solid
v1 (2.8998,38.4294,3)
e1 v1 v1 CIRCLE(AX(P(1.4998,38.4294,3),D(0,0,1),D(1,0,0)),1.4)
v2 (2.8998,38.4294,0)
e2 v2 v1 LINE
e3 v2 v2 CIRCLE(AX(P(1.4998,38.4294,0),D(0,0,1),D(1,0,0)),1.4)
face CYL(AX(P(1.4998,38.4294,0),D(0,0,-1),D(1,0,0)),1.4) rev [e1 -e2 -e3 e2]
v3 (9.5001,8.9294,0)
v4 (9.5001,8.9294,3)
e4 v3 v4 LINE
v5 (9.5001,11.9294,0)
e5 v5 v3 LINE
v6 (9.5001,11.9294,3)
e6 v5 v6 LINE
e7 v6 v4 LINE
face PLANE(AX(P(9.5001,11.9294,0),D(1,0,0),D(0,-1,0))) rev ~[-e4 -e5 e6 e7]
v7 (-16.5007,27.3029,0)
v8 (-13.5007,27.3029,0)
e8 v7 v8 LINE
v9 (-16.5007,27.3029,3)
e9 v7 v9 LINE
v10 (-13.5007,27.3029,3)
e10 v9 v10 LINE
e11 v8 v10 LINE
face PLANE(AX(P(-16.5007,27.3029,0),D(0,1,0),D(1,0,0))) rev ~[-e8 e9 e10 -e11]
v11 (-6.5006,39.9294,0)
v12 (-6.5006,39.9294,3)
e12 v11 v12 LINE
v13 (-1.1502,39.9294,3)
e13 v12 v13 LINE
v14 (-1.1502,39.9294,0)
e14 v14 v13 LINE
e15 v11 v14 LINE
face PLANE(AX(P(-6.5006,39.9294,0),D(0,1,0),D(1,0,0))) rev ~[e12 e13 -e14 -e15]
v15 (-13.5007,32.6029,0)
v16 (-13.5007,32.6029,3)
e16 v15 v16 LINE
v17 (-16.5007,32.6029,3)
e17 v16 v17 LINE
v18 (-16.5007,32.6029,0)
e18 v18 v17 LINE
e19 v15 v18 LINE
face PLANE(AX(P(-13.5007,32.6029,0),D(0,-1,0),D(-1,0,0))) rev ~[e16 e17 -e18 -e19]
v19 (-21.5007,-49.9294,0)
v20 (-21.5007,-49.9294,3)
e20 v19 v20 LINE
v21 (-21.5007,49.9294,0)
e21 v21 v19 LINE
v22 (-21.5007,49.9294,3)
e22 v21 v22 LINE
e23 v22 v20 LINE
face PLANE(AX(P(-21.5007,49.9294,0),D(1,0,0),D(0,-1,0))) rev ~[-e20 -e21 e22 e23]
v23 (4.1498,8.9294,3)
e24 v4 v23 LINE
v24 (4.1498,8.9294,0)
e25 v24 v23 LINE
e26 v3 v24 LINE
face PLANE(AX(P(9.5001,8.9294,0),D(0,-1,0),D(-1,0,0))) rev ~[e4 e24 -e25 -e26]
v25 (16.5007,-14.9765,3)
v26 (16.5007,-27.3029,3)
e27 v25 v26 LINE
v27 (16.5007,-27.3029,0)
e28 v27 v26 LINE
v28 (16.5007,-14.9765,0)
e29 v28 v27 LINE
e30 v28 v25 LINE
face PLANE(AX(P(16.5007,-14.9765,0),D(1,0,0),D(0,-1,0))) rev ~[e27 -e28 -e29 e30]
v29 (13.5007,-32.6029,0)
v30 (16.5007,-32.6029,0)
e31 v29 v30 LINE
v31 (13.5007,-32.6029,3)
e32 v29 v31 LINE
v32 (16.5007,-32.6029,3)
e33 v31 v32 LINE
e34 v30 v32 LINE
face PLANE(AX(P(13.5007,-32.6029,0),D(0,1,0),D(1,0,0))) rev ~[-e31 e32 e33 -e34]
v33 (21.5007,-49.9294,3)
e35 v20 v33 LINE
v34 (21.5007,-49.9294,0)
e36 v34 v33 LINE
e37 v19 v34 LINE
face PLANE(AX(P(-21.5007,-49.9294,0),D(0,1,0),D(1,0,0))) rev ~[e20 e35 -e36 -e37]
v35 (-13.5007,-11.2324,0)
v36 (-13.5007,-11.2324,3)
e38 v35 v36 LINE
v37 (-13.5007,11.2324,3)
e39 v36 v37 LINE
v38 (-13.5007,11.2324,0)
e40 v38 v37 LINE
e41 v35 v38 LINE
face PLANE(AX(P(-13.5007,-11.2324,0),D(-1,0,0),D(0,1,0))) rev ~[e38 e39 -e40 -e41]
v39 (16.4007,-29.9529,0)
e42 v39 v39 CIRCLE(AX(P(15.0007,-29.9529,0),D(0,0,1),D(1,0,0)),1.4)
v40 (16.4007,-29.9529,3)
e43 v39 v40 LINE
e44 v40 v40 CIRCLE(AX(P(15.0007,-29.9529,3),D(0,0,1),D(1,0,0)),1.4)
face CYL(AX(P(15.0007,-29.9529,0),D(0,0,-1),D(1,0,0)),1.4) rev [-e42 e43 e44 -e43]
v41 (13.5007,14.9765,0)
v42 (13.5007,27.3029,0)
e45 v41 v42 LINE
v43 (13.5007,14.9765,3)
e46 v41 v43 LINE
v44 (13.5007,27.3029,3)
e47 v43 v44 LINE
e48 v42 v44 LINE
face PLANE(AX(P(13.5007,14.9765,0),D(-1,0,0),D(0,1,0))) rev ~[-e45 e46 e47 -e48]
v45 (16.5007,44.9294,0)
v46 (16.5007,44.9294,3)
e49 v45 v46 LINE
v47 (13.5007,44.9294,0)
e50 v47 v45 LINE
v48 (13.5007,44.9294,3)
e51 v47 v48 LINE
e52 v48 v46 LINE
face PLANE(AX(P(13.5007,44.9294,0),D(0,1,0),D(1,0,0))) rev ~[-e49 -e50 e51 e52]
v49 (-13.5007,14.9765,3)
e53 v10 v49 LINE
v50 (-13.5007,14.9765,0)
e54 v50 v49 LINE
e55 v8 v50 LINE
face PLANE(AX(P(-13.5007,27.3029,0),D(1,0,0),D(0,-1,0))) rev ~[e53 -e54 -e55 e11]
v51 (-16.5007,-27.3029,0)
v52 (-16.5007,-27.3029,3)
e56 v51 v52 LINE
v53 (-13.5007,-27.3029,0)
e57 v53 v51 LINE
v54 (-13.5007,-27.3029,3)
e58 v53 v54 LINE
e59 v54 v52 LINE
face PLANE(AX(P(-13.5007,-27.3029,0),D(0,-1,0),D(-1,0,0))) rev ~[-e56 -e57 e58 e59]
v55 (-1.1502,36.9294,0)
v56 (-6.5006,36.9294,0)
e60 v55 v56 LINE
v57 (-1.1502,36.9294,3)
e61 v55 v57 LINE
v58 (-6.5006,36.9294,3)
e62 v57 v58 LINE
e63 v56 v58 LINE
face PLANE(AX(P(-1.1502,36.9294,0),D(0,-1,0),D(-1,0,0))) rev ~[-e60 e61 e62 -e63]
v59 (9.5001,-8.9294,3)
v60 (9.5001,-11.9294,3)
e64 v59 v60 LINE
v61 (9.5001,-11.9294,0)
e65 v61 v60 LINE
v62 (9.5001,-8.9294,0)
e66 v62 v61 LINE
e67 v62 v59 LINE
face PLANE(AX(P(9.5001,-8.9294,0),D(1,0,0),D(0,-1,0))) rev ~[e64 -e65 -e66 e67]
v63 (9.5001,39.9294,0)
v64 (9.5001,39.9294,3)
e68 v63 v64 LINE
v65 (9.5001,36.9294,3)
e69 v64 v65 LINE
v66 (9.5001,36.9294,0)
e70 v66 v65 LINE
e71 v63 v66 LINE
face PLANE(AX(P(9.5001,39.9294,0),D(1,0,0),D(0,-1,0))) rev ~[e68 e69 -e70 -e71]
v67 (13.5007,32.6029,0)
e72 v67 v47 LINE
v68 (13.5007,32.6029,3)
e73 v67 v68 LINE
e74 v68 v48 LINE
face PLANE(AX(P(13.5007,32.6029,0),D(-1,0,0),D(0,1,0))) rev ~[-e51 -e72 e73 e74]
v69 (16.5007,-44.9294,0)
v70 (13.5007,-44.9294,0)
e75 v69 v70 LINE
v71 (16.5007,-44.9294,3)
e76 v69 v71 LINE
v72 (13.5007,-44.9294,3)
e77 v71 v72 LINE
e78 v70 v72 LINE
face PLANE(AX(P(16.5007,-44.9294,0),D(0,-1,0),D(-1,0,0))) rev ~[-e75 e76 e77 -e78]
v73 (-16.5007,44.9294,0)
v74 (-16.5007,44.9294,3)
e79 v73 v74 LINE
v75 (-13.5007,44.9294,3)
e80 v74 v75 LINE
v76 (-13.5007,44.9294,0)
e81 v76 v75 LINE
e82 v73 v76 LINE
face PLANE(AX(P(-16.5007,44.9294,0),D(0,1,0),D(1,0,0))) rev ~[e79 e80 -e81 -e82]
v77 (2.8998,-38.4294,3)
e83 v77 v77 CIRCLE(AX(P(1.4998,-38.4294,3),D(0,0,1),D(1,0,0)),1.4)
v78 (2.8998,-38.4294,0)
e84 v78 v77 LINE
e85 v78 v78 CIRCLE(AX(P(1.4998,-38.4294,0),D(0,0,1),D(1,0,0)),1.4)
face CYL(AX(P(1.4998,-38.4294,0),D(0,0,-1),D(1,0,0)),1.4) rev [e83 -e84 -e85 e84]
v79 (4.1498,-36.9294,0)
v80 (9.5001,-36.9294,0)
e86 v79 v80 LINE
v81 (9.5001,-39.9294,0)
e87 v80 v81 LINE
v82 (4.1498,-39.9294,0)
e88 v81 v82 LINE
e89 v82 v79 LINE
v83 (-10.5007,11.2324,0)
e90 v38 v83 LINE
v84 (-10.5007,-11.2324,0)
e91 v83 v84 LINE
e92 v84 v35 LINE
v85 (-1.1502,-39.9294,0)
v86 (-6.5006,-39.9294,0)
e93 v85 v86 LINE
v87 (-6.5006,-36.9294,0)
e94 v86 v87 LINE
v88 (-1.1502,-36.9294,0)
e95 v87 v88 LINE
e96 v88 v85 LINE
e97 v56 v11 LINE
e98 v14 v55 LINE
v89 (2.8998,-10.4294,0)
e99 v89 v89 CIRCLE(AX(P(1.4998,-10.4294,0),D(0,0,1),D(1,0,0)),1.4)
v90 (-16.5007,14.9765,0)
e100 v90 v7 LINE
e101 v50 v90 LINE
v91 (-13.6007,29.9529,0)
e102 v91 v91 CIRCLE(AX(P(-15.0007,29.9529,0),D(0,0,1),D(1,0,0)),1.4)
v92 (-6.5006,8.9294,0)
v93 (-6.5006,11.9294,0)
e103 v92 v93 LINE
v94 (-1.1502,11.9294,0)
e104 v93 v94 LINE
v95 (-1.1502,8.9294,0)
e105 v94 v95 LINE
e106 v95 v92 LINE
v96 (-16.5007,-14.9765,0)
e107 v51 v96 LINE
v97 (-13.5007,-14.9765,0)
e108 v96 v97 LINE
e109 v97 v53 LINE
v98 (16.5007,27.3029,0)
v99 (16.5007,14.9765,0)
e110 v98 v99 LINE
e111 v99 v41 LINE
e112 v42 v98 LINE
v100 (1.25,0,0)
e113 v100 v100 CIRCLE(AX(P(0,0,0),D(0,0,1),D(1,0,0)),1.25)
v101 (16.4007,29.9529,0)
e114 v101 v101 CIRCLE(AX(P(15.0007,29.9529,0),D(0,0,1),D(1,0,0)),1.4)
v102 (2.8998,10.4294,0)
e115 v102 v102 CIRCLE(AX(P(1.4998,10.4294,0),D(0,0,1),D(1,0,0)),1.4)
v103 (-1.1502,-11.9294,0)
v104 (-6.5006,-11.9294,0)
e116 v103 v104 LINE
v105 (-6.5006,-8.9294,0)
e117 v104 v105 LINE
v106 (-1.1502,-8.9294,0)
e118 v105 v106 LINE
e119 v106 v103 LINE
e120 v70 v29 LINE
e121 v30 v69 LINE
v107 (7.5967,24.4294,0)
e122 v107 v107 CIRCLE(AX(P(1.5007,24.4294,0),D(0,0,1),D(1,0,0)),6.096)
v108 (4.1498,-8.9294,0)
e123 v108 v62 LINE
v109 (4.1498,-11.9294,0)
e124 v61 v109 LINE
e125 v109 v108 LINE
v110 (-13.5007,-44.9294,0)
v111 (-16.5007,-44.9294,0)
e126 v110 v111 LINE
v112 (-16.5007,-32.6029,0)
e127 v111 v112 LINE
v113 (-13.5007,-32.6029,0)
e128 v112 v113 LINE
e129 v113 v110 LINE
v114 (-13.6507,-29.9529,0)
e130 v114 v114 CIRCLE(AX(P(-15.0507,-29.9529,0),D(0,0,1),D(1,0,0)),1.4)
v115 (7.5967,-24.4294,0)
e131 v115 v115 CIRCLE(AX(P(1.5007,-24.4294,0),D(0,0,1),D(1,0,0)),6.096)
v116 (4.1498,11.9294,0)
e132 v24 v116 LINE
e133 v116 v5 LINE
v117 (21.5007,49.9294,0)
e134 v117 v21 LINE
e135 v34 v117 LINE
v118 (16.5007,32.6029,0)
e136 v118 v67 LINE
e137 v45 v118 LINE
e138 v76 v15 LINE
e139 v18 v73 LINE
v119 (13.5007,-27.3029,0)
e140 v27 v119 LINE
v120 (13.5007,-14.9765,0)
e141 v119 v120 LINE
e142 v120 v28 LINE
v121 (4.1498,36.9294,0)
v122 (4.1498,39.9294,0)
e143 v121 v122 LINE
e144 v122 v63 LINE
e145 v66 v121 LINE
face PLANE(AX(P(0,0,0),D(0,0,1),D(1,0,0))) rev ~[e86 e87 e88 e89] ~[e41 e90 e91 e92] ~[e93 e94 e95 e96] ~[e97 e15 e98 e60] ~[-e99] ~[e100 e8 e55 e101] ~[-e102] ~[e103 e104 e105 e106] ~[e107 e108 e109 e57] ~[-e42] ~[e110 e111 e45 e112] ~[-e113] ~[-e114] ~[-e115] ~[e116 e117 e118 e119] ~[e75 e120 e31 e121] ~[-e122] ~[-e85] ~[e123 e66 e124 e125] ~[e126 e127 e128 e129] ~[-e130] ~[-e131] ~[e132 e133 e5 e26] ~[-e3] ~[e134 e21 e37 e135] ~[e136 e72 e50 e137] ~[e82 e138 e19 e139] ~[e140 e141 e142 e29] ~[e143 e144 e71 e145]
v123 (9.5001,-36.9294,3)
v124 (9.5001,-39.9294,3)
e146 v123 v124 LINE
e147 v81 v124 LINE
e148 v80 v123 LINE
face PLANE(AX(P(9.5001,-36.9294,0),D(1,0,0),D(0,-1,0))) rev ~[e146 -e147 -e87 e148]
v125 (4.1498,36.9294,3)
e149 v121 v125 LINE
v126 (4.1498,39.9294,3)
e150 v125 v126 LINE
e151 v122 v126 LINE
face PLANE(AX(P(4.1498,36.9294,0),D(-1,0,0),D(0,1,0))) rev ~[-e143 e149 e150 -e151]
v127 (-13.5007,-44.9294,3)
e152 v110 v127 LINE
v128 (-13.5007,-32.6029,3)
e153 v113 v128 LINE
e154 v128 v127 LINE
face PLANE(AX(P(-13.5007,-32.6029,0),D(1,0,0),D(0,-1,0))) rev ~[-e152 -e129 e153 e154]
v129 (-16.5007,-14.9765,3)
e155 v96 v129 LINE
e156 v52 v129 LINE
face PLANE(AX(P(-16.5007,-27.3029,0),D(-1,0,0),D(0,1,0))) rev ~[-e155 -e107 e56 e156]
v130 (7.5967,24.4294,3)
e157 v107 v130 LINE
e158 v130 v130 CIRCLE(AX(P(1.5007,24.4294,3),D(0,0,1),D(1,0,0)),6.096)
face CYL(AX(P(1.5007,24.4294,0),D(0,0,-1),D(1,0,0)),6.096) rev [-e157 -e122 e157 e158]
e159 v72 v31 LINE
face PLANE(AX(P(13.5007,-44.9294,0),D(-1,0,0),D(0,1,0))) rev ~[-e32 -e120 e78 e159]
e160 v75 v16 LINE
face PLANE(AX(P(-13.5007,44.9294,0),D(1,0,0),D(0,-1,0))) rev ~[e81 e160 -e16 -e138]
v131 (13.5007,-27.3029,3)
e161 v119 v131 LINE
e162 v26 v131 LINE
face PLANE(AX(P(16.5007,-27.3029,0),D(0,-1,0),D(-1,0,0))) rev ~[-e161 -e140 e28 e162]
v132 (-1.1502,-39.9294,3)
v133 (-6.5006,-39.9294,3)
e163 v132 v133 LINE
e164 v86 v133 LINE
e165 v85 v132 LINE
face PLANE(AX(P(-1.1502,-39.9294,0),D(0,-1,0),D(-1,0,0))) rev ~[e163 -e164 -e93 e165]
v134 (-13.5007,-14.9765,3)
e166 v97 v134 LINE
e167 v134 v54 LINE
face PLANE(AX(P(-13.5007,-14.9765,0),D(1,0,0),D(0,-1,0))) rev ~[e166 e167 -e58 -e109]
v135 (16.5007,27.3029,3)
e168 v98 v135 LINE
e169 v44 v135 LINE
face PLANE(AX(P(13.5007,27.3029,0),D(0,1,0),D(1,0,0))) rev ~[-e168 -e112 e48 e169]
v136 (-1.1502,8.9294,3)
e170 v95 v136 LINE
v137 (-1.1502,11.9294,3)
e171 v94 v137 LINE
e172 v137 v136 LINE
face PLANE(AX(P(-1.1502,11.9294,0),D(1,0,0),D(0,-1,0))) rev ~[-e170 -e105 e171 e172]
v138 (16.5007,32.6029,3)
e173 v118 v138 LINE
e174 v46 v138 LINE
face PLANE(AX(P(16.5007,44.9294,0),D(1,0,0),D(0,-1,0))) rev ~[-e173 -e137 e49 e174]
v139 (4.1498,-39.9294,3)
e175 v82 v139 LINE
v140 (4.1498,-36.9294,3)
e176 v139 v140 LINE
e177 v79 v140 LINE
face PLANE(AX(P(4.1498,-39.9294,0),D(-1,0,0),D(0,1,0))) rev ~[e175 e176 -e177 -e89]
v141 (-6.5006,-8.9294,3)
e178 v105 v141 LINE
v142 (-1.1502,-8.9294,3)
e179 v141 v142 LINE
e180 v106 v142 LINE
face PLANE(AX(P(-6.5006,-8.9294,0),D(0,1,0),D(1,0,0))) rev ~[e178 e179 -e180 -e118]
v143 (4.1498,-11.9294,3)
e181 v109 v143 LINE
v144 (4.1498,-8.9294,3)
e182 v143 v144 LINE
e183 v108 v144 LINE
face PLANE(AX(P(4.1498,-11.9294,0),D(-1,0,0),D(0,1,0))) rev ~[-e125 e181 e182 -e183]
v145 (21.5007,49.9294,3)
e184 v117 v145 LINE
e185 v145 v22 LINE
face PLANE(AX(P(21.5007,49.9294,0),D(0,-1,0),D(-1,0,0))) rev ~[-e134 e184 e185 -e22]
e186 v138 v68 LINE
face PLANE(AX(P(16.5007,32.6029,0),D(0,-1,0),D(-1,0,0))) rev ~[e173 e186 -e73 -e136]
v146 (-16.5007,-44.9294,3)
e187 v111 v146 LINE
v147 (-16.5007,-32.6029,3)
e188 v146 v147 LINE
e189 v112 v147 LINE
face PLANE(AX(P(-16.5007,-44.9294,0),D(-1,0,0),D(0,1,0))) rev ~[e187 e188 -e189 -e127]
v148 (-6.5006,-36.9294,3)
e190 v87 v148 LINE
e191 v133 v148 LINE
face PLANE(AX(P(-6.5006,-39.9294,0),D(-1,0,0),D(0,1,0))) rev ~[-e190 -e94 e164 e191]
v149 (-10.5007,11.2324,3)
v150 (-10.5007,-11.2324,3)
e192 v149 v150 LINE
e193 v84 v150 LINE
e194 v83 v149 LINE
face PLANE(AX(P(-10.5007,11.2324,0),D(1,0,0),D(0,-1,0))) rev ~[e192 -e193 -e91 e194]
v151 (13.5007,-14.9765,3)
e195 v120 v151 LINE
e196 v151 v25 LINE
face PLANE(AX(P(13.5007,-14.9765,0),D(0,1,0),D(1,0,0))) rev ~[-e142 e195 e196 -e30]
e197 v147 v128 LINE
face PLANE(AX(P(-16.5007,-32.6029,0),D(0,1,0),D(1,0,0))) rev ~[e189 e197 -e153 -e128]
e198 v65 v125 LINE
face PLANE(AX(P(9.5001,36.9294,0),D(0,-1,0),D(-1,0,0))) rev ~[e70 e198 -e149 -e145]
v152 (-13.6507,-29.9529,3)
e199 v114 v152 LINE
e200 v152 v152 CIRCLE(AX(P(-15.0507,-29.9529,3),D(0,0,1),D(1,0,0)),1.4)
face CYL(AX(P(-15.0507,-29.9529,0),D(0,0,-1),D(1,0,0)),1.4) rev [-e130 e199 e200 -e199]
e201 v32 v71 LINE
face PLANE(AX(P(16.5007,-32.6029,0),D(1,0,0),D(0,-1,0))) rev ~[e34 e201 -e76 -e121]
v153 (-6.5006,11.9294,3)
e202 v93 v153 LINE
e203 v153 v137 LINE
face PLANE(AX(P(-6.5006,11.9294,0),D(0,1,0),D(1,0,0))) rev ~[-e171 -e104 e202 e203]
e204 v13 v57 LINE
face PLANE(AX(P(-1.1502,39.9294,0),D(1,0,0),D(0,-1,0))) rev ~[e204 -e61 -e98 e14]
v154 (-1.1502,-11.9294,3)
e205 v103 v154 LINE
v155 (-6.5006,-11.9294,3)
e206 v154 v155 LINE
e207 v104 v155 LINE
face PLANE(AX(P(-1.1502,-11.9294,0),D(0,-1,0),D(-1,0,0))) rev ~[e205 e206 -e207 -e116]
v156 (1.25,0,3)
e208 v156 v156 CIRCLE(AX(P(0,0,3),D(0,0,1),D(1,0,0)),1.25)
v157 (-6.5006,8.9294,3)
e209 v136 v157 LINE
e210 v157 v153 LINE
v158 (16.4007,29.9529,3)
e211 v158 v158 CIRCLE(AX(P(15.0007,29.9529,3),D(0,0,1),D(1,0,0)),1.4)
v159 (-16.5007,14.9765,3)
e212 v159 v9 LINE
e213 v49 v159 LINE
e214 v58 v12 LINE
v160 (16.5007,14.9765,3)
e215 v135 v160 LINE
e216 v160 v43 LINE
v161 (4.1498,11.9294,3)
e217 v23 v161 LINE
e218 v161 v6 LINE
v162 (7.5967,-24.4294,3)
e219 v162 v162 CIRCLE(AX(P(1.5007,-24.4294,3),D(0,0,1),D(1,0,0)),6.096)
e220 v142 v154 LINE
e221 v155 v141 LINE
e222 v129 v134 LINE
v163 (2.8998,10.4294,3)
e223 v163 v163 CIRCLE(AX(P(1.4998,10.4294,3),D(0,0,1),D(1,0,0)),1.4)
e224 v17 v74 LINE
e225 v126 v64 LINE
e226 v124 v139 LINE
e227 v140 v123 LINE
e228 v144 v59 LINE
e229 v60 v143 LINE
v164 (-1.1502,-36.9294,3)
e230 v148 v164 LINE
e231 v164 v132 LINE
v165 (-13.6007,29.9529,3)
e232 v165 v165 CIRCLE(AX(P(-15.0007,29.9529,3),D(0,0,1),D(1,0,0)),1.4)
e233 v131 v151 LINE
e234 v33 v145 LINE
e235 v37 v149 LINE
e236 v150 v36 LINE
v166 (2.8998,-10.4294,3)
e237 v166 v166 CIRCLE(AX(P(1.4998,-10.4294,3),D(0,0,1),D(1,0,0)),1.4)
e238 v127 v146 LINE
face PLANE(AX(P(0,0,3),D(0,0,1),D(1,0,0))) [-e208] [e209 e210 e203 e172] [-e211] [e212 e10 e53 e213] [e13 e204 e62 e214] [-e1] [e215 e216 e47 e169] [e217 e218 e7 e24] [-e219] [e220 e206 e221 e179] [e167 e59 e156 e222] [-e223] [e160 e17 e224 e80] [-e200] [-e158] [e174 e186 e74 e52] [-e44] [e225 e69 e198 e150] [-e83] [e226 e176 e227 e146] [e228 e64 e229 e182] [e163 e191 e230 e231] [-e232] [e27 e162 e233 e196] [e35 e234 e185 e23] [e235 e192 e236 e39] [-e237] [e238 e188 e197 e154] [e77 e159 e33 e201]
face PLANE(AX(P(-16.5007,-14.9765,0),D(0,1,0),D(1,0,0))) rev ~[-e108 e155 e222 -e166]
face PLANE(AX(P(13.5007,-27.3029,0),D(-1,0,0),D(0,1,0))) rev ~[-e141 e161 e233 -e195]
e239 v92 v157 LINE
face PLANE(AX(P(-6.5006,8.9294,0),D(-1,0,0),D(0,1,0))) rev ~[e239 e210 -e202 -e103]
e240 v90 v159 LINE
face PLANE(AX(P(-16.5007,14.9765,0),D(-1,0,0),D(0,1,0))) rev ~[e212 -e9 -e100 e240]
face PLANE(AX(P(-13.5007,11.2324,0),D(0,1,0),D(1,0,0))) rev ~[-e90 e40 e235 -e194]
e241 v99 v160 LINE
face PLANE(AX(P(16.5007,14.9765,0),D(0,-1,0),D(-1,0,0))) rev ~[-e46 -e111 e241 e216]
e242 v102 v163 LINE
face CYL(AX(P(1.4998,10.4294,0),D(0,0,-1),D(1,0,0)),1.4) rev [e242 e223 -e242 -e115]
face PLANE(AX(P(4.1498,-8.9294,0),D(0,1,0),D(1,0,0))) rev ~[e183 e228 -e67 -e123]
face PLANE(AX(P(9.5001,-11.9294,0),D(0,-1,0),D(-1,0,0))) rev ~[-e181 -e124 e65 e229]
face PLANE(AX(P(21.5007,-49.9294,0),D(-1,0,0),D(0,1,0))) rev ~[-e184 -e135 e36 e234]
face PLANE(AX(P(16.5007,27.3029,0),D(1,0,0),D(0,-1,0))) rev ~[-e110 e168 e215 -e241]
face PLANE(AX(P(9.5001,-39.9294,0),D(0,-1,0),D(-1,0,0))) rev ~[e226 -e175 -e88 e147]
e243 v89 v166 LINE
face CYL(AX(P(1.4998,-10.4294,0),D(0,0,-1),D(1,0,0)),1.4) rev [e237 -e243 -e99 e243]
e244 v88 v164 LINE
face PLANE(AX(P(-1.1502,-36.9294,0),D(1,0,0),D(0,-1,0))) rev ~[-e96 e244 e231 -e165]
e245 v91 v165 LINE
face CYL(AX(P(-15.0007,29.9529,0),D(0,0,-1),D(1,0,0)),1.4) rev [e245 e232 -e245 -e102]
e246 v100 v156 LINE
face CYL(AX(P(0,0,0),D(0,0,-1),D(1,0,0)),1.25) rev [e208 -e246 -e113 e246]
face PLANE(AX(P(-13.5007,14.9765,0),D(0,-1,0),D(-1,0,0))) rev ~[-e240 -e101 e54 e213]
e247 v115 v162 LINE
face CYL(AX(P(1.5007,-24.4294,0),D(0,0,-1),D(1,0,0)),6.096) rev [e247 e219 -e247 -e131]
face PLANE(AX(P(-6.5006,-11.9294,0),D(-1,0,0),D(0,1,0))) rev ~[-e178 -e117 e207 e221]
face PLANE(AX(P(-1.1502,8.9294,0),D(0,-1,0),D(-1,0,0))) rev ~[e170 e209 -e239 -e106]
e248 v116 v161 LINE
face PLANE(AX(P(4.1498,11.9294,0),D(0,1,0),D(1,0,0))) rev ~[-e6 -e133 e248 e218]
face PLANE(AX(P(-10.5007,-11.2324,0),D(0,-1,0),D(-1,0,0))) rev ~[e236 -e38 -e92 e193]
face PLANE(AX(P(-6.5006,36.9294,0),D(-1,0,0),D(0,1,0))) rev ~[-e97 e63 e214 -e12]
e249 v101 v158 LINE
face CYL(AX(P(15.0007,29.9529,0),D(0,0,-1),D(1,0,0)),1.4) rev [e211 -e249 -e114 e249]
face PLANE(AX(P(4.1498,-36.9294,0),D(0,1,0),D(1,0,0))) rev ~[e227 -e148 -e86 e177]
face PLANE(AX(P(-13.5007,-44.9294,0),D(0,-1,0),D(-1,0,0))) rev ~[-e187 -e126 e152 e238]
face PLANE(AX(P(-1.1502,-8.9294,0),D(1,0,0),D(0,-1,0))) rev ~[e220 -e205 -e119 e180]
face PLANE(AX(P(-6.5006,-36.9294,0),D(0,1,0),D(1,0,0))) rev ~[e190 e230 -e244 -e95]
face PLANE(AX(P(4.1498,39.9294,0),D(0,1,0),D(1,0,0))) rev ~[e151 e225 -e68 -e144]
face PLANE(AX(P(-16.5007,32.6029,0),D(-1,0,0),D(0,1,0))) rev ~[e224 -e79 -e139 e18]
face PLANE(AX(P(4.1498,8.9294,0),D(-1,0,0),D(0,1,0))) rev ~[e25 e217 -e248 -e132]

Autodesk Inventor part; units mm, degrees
ref_plane "YZ Plane" through (0, 0, 0) normal (1, 0, 0) x (0, 1, 0)
ref_plane "XZ Plane" through (0, 0, 0) normal (0, 1, 0) x (-1, 0, 0)
ref_plane "XY Plane" through (0, 0, 0) normal (0, 0, 1) x (1, 0, 0)
sketch "Sketch1" plane through (0, 0, 0) normal (0, 0, 1) x (1, 0, 0)
  line L0 (21.5007, 49.9294) -> (-21.5007, 49.9294)
  line L1 (-21.5007, 49.9294) -> (-21.5007, -49.9294)
  line L2 (-21.5007, -49.9294) -> (21.5007, -49.9294)
  line L3 (21.5007, -49.9294) -> (21.5007, 49.9294)
  line L4 (-13.5007, 14.9765) -> (-16.5007, 14.9765)
  line L5 (-16.5007, 14.9765) -> (-16.5007, 27.3029)
  line L6 (-16.5007, 27.3029) -> (-13.5007, 27.3029)
  line L7 (-13.5007, 27.3029) -> (-13.5007, 14.9765)
  line L8 (-13.5007, -27.3029) -> (-16.5007, -27.3029)
  line L9 (-16.5007, -27.3029) -> (-16.5007, -14.9765)
  line L10 (-16.5007, -14.9765) -> (-13.5007, -14.9765)
  line L11 (-13.5007, -14.9765) -> (-13.5007, -27.3029)
  line L12 (-13.5007, -44.9294) -> (-16.5007, -44.9294)
  line L13 (-16.5007, -44.9294) -> (-16.5007, -32.6029)
  line L14 (-16.5007, -32.6029) -> (-13.5007, -32.6029)
  line L15 (-13.5007, -32.6029) -> (-13.5007, -44.9294)
  line L16 (-16.5007, 44.9294) -> (-13.5007, 44.9294)
  line L17 (-13.5007, 44.9294) -> (-13.5007, 32.6029)
  line L18 (-13.5007, 32.6029) -> (-16.5007, 32.6029)
  line L19 (-16.5007, 32.6029) -> (-16.5007, 44.9294)
  line L20 (-10.5007, -11.2324) -> (-13.5007, -11.2324)
  line L21 (-13.5007, -11.2324) -> (-13.5007, 11.2324)
  line L22 (-13.5007, 11.2324) -> (-10.5007, 11.2324)
  line L23 (-10.5007, 11.2324) -> (-10.5007, -11.2324)
  line L24 (16.5007, 14.9765) -> (13.5007, 14.9765)
  line L25 (13.5007, 14.9765) -> (13.5007, 27.3029)
  line L26 (13.5007, 27.3029) -> (16.5007, 27.3029)
  line L27 (16.5007, 27.3029) -> (16.5007, 14.9765)
  line L28 (16.5007, -27.3029) -> (13.5007, -27.3029)
  line L29 (13.5007, -27.3029) -> (13.5007, -14.9765)
  line L30 (13.5007, -14.9765) -> (16.5007, -14.9765)
  line L31 (16.5007, -14.9765) -> (16.5007, -27.3029)
  line L32 (16.5007, -44.9294) -> (13.5007, -44.9294)
  line L33 (13.5007, -44.9294) -> (13.5007, -32.6029)
  line L34 (13.5007, -32.6029) -> (16.5007, -32.6029)
  line L35 (16.5007, -32.6029) -> (16.5007, -44.9294)
  line L36 (13.5007, 44.9294) -> (16.5007, 44.9294)
  line L37 (16.5007, 44.9294) -> (16.5007, 32.6029)
  line L38 (16.5007, 32.6029) -> (13.5007, 32.6029)
  line L39 (13.5007, 32.6029) -> (13.5007, 44.9294)
  line L40 (4.1498, 36.9294) -> (4.1498, 39.9294)
  line L41 (4.1498, 39.9294) -> (9.5001, 39.9294)
  line L42 (9.5001, 39.9294) -> (9.5001, 36.9294)
  line L43 (9.5001, 36.9294) -> (4.1498, 36.9294)
  line L44 (-6.5006, 36.9294) -> (-6.5006, 39.9294)
  line L45 (-6.5006, 39.9294) -> (-1.1502, 39.9294)
  line L46 (-1.1502, 39.9294) -> (-1.1502, 36.9294)
  line L47 (-1.1502, 36.9294) -> (-6.5006, 36.9294)
  line L48 (-1.1502, 11.9294) -> (-1.1502, 8.9294)
  line L49 (-1.1502, 8.9294) -> (-6.5006, 8.9294)
  line L50 (-6.5006, 8.9294) -> (-6.5006, 11.9294)
  line L51 (-6.5006, 11.9294) -> (-1.1502, 11.9294)
  line L52 (9.5001, 11.9294) -> (9.5001, 8.9294)
  line L53 (9.5001, 8.9294) -> (4.1498, 8.9294)
  line L54 (4.1498, 8.9294) -> (4.1498, 11.9294)
  line L55 (4.1498, 11.9294) -> (9.5001, 11.9294)
  line L56 (4.1498, -11.9294) -> (4.1498, -8.9294)
  line L57 (4.1498, -8.9294) -> (9.5001, -8.9294)
  line L58 (9.5001, -8.9294) -> (9.5001, -11.9294)
  line L59 (9.5001, -11.9294) -> (4.1498, -11.9294)
  line L60 (-6.5006, -11.9294) -> (-6.5006, -8.9294)
  line L61 (-6.5006, -8.9294) -> (-1.1502, -8.9294)
  line L62 (-1.1502, -8.9294) -> (-1.1502, -11.9294)
  line L63 (-1.1502, -11.9294) -> (-6.5006, -11.9294)
  line L64 (4.1498, -39.9294) -> (4.1498, -36.9294)
  line L65 (4.1498, -36.9294) -> (9.5001, -36.9294)
  line L66 (9.5001, -36.9294) -> (9.5001, -39.9294)
  line L67 (9.5001, -39.9294) -> (4.1498, -39.9294)
  line L68 (-6.5006, -39.9294) -> (-6.5006, -36.9294)
  line L69 (-6.5006, -36.9294) -> (-1.1502, -36.9294)
  line L70 (-1.1502, -36.9294) -> (-1.1502, -39.9294)
  line L71 (-1.1502, -39.9294) -> (-6.5006, -39.9294)
  circle A0 centre (1.4998, 38.4294) radius 1.4
  line L72 (1.4998, 41.6656) -> (1.4998, 35.5125) construction
  circle A1 centre (1.4998, 10.4294) radius 1.4
  circle A2 centre (1.4998, -10.4294) radius 1.4
  circle A3 centre (1.4998, -38.4294) radius 1.4
  line L73 (-16.5007, 29.9529) -> (-13.5007, 29.9529) construction
  circle A4 centre (-15.0007, 29.9529) radius 1.4
  circle A5 centre (15.0007, 29.9529) radius 1.4
  line L74 (-16.5007, -29.9529) -> (-13.6007, -29.9529) construction
  circle A6 centre (-15.0507, -29.9529) radius 1.4
  circle A7 centre (15.0007, -29.9529) radius 1.4
  circle A8 centre (1.5007, -24.4294) radius 6.096
  circle A9 centre (1.5007, 24.4294) radius 6.096
  circle A10 centre (0, 0) radius 1.25
  dimension "d5" = 99.8588
  dimension "d6" = 43.0015
  dimension "d7" = 2.8
  dimension "d8" = 5.3
  dimension "d9" = 2.65
  dimension "d10" = 2.8
  dimension "d11" = 2.8
  dimension "d12" = 2.8
  dimension "d13" = 2.8
  dimension "d14" = 2.8
  dimension "d15" = 5.3
  dimension "d16" = 2.65
  dimension "d17" = 5.3
  dimension "d18" = 2.65
  dimension "d19" = 2.8
  dimension "d20" = 2.8
  dimension "d22" = 2.5
extrude "Extrusion1" add sketch "Sketch1" along normal blind 3
equation "\"d9\" = 0.5 * d8"
equation "\"d16\" = 0.5 * d15"
equation "\"d18\" = 0.5 * d17"
properties part number "X-Anchor-Side"
